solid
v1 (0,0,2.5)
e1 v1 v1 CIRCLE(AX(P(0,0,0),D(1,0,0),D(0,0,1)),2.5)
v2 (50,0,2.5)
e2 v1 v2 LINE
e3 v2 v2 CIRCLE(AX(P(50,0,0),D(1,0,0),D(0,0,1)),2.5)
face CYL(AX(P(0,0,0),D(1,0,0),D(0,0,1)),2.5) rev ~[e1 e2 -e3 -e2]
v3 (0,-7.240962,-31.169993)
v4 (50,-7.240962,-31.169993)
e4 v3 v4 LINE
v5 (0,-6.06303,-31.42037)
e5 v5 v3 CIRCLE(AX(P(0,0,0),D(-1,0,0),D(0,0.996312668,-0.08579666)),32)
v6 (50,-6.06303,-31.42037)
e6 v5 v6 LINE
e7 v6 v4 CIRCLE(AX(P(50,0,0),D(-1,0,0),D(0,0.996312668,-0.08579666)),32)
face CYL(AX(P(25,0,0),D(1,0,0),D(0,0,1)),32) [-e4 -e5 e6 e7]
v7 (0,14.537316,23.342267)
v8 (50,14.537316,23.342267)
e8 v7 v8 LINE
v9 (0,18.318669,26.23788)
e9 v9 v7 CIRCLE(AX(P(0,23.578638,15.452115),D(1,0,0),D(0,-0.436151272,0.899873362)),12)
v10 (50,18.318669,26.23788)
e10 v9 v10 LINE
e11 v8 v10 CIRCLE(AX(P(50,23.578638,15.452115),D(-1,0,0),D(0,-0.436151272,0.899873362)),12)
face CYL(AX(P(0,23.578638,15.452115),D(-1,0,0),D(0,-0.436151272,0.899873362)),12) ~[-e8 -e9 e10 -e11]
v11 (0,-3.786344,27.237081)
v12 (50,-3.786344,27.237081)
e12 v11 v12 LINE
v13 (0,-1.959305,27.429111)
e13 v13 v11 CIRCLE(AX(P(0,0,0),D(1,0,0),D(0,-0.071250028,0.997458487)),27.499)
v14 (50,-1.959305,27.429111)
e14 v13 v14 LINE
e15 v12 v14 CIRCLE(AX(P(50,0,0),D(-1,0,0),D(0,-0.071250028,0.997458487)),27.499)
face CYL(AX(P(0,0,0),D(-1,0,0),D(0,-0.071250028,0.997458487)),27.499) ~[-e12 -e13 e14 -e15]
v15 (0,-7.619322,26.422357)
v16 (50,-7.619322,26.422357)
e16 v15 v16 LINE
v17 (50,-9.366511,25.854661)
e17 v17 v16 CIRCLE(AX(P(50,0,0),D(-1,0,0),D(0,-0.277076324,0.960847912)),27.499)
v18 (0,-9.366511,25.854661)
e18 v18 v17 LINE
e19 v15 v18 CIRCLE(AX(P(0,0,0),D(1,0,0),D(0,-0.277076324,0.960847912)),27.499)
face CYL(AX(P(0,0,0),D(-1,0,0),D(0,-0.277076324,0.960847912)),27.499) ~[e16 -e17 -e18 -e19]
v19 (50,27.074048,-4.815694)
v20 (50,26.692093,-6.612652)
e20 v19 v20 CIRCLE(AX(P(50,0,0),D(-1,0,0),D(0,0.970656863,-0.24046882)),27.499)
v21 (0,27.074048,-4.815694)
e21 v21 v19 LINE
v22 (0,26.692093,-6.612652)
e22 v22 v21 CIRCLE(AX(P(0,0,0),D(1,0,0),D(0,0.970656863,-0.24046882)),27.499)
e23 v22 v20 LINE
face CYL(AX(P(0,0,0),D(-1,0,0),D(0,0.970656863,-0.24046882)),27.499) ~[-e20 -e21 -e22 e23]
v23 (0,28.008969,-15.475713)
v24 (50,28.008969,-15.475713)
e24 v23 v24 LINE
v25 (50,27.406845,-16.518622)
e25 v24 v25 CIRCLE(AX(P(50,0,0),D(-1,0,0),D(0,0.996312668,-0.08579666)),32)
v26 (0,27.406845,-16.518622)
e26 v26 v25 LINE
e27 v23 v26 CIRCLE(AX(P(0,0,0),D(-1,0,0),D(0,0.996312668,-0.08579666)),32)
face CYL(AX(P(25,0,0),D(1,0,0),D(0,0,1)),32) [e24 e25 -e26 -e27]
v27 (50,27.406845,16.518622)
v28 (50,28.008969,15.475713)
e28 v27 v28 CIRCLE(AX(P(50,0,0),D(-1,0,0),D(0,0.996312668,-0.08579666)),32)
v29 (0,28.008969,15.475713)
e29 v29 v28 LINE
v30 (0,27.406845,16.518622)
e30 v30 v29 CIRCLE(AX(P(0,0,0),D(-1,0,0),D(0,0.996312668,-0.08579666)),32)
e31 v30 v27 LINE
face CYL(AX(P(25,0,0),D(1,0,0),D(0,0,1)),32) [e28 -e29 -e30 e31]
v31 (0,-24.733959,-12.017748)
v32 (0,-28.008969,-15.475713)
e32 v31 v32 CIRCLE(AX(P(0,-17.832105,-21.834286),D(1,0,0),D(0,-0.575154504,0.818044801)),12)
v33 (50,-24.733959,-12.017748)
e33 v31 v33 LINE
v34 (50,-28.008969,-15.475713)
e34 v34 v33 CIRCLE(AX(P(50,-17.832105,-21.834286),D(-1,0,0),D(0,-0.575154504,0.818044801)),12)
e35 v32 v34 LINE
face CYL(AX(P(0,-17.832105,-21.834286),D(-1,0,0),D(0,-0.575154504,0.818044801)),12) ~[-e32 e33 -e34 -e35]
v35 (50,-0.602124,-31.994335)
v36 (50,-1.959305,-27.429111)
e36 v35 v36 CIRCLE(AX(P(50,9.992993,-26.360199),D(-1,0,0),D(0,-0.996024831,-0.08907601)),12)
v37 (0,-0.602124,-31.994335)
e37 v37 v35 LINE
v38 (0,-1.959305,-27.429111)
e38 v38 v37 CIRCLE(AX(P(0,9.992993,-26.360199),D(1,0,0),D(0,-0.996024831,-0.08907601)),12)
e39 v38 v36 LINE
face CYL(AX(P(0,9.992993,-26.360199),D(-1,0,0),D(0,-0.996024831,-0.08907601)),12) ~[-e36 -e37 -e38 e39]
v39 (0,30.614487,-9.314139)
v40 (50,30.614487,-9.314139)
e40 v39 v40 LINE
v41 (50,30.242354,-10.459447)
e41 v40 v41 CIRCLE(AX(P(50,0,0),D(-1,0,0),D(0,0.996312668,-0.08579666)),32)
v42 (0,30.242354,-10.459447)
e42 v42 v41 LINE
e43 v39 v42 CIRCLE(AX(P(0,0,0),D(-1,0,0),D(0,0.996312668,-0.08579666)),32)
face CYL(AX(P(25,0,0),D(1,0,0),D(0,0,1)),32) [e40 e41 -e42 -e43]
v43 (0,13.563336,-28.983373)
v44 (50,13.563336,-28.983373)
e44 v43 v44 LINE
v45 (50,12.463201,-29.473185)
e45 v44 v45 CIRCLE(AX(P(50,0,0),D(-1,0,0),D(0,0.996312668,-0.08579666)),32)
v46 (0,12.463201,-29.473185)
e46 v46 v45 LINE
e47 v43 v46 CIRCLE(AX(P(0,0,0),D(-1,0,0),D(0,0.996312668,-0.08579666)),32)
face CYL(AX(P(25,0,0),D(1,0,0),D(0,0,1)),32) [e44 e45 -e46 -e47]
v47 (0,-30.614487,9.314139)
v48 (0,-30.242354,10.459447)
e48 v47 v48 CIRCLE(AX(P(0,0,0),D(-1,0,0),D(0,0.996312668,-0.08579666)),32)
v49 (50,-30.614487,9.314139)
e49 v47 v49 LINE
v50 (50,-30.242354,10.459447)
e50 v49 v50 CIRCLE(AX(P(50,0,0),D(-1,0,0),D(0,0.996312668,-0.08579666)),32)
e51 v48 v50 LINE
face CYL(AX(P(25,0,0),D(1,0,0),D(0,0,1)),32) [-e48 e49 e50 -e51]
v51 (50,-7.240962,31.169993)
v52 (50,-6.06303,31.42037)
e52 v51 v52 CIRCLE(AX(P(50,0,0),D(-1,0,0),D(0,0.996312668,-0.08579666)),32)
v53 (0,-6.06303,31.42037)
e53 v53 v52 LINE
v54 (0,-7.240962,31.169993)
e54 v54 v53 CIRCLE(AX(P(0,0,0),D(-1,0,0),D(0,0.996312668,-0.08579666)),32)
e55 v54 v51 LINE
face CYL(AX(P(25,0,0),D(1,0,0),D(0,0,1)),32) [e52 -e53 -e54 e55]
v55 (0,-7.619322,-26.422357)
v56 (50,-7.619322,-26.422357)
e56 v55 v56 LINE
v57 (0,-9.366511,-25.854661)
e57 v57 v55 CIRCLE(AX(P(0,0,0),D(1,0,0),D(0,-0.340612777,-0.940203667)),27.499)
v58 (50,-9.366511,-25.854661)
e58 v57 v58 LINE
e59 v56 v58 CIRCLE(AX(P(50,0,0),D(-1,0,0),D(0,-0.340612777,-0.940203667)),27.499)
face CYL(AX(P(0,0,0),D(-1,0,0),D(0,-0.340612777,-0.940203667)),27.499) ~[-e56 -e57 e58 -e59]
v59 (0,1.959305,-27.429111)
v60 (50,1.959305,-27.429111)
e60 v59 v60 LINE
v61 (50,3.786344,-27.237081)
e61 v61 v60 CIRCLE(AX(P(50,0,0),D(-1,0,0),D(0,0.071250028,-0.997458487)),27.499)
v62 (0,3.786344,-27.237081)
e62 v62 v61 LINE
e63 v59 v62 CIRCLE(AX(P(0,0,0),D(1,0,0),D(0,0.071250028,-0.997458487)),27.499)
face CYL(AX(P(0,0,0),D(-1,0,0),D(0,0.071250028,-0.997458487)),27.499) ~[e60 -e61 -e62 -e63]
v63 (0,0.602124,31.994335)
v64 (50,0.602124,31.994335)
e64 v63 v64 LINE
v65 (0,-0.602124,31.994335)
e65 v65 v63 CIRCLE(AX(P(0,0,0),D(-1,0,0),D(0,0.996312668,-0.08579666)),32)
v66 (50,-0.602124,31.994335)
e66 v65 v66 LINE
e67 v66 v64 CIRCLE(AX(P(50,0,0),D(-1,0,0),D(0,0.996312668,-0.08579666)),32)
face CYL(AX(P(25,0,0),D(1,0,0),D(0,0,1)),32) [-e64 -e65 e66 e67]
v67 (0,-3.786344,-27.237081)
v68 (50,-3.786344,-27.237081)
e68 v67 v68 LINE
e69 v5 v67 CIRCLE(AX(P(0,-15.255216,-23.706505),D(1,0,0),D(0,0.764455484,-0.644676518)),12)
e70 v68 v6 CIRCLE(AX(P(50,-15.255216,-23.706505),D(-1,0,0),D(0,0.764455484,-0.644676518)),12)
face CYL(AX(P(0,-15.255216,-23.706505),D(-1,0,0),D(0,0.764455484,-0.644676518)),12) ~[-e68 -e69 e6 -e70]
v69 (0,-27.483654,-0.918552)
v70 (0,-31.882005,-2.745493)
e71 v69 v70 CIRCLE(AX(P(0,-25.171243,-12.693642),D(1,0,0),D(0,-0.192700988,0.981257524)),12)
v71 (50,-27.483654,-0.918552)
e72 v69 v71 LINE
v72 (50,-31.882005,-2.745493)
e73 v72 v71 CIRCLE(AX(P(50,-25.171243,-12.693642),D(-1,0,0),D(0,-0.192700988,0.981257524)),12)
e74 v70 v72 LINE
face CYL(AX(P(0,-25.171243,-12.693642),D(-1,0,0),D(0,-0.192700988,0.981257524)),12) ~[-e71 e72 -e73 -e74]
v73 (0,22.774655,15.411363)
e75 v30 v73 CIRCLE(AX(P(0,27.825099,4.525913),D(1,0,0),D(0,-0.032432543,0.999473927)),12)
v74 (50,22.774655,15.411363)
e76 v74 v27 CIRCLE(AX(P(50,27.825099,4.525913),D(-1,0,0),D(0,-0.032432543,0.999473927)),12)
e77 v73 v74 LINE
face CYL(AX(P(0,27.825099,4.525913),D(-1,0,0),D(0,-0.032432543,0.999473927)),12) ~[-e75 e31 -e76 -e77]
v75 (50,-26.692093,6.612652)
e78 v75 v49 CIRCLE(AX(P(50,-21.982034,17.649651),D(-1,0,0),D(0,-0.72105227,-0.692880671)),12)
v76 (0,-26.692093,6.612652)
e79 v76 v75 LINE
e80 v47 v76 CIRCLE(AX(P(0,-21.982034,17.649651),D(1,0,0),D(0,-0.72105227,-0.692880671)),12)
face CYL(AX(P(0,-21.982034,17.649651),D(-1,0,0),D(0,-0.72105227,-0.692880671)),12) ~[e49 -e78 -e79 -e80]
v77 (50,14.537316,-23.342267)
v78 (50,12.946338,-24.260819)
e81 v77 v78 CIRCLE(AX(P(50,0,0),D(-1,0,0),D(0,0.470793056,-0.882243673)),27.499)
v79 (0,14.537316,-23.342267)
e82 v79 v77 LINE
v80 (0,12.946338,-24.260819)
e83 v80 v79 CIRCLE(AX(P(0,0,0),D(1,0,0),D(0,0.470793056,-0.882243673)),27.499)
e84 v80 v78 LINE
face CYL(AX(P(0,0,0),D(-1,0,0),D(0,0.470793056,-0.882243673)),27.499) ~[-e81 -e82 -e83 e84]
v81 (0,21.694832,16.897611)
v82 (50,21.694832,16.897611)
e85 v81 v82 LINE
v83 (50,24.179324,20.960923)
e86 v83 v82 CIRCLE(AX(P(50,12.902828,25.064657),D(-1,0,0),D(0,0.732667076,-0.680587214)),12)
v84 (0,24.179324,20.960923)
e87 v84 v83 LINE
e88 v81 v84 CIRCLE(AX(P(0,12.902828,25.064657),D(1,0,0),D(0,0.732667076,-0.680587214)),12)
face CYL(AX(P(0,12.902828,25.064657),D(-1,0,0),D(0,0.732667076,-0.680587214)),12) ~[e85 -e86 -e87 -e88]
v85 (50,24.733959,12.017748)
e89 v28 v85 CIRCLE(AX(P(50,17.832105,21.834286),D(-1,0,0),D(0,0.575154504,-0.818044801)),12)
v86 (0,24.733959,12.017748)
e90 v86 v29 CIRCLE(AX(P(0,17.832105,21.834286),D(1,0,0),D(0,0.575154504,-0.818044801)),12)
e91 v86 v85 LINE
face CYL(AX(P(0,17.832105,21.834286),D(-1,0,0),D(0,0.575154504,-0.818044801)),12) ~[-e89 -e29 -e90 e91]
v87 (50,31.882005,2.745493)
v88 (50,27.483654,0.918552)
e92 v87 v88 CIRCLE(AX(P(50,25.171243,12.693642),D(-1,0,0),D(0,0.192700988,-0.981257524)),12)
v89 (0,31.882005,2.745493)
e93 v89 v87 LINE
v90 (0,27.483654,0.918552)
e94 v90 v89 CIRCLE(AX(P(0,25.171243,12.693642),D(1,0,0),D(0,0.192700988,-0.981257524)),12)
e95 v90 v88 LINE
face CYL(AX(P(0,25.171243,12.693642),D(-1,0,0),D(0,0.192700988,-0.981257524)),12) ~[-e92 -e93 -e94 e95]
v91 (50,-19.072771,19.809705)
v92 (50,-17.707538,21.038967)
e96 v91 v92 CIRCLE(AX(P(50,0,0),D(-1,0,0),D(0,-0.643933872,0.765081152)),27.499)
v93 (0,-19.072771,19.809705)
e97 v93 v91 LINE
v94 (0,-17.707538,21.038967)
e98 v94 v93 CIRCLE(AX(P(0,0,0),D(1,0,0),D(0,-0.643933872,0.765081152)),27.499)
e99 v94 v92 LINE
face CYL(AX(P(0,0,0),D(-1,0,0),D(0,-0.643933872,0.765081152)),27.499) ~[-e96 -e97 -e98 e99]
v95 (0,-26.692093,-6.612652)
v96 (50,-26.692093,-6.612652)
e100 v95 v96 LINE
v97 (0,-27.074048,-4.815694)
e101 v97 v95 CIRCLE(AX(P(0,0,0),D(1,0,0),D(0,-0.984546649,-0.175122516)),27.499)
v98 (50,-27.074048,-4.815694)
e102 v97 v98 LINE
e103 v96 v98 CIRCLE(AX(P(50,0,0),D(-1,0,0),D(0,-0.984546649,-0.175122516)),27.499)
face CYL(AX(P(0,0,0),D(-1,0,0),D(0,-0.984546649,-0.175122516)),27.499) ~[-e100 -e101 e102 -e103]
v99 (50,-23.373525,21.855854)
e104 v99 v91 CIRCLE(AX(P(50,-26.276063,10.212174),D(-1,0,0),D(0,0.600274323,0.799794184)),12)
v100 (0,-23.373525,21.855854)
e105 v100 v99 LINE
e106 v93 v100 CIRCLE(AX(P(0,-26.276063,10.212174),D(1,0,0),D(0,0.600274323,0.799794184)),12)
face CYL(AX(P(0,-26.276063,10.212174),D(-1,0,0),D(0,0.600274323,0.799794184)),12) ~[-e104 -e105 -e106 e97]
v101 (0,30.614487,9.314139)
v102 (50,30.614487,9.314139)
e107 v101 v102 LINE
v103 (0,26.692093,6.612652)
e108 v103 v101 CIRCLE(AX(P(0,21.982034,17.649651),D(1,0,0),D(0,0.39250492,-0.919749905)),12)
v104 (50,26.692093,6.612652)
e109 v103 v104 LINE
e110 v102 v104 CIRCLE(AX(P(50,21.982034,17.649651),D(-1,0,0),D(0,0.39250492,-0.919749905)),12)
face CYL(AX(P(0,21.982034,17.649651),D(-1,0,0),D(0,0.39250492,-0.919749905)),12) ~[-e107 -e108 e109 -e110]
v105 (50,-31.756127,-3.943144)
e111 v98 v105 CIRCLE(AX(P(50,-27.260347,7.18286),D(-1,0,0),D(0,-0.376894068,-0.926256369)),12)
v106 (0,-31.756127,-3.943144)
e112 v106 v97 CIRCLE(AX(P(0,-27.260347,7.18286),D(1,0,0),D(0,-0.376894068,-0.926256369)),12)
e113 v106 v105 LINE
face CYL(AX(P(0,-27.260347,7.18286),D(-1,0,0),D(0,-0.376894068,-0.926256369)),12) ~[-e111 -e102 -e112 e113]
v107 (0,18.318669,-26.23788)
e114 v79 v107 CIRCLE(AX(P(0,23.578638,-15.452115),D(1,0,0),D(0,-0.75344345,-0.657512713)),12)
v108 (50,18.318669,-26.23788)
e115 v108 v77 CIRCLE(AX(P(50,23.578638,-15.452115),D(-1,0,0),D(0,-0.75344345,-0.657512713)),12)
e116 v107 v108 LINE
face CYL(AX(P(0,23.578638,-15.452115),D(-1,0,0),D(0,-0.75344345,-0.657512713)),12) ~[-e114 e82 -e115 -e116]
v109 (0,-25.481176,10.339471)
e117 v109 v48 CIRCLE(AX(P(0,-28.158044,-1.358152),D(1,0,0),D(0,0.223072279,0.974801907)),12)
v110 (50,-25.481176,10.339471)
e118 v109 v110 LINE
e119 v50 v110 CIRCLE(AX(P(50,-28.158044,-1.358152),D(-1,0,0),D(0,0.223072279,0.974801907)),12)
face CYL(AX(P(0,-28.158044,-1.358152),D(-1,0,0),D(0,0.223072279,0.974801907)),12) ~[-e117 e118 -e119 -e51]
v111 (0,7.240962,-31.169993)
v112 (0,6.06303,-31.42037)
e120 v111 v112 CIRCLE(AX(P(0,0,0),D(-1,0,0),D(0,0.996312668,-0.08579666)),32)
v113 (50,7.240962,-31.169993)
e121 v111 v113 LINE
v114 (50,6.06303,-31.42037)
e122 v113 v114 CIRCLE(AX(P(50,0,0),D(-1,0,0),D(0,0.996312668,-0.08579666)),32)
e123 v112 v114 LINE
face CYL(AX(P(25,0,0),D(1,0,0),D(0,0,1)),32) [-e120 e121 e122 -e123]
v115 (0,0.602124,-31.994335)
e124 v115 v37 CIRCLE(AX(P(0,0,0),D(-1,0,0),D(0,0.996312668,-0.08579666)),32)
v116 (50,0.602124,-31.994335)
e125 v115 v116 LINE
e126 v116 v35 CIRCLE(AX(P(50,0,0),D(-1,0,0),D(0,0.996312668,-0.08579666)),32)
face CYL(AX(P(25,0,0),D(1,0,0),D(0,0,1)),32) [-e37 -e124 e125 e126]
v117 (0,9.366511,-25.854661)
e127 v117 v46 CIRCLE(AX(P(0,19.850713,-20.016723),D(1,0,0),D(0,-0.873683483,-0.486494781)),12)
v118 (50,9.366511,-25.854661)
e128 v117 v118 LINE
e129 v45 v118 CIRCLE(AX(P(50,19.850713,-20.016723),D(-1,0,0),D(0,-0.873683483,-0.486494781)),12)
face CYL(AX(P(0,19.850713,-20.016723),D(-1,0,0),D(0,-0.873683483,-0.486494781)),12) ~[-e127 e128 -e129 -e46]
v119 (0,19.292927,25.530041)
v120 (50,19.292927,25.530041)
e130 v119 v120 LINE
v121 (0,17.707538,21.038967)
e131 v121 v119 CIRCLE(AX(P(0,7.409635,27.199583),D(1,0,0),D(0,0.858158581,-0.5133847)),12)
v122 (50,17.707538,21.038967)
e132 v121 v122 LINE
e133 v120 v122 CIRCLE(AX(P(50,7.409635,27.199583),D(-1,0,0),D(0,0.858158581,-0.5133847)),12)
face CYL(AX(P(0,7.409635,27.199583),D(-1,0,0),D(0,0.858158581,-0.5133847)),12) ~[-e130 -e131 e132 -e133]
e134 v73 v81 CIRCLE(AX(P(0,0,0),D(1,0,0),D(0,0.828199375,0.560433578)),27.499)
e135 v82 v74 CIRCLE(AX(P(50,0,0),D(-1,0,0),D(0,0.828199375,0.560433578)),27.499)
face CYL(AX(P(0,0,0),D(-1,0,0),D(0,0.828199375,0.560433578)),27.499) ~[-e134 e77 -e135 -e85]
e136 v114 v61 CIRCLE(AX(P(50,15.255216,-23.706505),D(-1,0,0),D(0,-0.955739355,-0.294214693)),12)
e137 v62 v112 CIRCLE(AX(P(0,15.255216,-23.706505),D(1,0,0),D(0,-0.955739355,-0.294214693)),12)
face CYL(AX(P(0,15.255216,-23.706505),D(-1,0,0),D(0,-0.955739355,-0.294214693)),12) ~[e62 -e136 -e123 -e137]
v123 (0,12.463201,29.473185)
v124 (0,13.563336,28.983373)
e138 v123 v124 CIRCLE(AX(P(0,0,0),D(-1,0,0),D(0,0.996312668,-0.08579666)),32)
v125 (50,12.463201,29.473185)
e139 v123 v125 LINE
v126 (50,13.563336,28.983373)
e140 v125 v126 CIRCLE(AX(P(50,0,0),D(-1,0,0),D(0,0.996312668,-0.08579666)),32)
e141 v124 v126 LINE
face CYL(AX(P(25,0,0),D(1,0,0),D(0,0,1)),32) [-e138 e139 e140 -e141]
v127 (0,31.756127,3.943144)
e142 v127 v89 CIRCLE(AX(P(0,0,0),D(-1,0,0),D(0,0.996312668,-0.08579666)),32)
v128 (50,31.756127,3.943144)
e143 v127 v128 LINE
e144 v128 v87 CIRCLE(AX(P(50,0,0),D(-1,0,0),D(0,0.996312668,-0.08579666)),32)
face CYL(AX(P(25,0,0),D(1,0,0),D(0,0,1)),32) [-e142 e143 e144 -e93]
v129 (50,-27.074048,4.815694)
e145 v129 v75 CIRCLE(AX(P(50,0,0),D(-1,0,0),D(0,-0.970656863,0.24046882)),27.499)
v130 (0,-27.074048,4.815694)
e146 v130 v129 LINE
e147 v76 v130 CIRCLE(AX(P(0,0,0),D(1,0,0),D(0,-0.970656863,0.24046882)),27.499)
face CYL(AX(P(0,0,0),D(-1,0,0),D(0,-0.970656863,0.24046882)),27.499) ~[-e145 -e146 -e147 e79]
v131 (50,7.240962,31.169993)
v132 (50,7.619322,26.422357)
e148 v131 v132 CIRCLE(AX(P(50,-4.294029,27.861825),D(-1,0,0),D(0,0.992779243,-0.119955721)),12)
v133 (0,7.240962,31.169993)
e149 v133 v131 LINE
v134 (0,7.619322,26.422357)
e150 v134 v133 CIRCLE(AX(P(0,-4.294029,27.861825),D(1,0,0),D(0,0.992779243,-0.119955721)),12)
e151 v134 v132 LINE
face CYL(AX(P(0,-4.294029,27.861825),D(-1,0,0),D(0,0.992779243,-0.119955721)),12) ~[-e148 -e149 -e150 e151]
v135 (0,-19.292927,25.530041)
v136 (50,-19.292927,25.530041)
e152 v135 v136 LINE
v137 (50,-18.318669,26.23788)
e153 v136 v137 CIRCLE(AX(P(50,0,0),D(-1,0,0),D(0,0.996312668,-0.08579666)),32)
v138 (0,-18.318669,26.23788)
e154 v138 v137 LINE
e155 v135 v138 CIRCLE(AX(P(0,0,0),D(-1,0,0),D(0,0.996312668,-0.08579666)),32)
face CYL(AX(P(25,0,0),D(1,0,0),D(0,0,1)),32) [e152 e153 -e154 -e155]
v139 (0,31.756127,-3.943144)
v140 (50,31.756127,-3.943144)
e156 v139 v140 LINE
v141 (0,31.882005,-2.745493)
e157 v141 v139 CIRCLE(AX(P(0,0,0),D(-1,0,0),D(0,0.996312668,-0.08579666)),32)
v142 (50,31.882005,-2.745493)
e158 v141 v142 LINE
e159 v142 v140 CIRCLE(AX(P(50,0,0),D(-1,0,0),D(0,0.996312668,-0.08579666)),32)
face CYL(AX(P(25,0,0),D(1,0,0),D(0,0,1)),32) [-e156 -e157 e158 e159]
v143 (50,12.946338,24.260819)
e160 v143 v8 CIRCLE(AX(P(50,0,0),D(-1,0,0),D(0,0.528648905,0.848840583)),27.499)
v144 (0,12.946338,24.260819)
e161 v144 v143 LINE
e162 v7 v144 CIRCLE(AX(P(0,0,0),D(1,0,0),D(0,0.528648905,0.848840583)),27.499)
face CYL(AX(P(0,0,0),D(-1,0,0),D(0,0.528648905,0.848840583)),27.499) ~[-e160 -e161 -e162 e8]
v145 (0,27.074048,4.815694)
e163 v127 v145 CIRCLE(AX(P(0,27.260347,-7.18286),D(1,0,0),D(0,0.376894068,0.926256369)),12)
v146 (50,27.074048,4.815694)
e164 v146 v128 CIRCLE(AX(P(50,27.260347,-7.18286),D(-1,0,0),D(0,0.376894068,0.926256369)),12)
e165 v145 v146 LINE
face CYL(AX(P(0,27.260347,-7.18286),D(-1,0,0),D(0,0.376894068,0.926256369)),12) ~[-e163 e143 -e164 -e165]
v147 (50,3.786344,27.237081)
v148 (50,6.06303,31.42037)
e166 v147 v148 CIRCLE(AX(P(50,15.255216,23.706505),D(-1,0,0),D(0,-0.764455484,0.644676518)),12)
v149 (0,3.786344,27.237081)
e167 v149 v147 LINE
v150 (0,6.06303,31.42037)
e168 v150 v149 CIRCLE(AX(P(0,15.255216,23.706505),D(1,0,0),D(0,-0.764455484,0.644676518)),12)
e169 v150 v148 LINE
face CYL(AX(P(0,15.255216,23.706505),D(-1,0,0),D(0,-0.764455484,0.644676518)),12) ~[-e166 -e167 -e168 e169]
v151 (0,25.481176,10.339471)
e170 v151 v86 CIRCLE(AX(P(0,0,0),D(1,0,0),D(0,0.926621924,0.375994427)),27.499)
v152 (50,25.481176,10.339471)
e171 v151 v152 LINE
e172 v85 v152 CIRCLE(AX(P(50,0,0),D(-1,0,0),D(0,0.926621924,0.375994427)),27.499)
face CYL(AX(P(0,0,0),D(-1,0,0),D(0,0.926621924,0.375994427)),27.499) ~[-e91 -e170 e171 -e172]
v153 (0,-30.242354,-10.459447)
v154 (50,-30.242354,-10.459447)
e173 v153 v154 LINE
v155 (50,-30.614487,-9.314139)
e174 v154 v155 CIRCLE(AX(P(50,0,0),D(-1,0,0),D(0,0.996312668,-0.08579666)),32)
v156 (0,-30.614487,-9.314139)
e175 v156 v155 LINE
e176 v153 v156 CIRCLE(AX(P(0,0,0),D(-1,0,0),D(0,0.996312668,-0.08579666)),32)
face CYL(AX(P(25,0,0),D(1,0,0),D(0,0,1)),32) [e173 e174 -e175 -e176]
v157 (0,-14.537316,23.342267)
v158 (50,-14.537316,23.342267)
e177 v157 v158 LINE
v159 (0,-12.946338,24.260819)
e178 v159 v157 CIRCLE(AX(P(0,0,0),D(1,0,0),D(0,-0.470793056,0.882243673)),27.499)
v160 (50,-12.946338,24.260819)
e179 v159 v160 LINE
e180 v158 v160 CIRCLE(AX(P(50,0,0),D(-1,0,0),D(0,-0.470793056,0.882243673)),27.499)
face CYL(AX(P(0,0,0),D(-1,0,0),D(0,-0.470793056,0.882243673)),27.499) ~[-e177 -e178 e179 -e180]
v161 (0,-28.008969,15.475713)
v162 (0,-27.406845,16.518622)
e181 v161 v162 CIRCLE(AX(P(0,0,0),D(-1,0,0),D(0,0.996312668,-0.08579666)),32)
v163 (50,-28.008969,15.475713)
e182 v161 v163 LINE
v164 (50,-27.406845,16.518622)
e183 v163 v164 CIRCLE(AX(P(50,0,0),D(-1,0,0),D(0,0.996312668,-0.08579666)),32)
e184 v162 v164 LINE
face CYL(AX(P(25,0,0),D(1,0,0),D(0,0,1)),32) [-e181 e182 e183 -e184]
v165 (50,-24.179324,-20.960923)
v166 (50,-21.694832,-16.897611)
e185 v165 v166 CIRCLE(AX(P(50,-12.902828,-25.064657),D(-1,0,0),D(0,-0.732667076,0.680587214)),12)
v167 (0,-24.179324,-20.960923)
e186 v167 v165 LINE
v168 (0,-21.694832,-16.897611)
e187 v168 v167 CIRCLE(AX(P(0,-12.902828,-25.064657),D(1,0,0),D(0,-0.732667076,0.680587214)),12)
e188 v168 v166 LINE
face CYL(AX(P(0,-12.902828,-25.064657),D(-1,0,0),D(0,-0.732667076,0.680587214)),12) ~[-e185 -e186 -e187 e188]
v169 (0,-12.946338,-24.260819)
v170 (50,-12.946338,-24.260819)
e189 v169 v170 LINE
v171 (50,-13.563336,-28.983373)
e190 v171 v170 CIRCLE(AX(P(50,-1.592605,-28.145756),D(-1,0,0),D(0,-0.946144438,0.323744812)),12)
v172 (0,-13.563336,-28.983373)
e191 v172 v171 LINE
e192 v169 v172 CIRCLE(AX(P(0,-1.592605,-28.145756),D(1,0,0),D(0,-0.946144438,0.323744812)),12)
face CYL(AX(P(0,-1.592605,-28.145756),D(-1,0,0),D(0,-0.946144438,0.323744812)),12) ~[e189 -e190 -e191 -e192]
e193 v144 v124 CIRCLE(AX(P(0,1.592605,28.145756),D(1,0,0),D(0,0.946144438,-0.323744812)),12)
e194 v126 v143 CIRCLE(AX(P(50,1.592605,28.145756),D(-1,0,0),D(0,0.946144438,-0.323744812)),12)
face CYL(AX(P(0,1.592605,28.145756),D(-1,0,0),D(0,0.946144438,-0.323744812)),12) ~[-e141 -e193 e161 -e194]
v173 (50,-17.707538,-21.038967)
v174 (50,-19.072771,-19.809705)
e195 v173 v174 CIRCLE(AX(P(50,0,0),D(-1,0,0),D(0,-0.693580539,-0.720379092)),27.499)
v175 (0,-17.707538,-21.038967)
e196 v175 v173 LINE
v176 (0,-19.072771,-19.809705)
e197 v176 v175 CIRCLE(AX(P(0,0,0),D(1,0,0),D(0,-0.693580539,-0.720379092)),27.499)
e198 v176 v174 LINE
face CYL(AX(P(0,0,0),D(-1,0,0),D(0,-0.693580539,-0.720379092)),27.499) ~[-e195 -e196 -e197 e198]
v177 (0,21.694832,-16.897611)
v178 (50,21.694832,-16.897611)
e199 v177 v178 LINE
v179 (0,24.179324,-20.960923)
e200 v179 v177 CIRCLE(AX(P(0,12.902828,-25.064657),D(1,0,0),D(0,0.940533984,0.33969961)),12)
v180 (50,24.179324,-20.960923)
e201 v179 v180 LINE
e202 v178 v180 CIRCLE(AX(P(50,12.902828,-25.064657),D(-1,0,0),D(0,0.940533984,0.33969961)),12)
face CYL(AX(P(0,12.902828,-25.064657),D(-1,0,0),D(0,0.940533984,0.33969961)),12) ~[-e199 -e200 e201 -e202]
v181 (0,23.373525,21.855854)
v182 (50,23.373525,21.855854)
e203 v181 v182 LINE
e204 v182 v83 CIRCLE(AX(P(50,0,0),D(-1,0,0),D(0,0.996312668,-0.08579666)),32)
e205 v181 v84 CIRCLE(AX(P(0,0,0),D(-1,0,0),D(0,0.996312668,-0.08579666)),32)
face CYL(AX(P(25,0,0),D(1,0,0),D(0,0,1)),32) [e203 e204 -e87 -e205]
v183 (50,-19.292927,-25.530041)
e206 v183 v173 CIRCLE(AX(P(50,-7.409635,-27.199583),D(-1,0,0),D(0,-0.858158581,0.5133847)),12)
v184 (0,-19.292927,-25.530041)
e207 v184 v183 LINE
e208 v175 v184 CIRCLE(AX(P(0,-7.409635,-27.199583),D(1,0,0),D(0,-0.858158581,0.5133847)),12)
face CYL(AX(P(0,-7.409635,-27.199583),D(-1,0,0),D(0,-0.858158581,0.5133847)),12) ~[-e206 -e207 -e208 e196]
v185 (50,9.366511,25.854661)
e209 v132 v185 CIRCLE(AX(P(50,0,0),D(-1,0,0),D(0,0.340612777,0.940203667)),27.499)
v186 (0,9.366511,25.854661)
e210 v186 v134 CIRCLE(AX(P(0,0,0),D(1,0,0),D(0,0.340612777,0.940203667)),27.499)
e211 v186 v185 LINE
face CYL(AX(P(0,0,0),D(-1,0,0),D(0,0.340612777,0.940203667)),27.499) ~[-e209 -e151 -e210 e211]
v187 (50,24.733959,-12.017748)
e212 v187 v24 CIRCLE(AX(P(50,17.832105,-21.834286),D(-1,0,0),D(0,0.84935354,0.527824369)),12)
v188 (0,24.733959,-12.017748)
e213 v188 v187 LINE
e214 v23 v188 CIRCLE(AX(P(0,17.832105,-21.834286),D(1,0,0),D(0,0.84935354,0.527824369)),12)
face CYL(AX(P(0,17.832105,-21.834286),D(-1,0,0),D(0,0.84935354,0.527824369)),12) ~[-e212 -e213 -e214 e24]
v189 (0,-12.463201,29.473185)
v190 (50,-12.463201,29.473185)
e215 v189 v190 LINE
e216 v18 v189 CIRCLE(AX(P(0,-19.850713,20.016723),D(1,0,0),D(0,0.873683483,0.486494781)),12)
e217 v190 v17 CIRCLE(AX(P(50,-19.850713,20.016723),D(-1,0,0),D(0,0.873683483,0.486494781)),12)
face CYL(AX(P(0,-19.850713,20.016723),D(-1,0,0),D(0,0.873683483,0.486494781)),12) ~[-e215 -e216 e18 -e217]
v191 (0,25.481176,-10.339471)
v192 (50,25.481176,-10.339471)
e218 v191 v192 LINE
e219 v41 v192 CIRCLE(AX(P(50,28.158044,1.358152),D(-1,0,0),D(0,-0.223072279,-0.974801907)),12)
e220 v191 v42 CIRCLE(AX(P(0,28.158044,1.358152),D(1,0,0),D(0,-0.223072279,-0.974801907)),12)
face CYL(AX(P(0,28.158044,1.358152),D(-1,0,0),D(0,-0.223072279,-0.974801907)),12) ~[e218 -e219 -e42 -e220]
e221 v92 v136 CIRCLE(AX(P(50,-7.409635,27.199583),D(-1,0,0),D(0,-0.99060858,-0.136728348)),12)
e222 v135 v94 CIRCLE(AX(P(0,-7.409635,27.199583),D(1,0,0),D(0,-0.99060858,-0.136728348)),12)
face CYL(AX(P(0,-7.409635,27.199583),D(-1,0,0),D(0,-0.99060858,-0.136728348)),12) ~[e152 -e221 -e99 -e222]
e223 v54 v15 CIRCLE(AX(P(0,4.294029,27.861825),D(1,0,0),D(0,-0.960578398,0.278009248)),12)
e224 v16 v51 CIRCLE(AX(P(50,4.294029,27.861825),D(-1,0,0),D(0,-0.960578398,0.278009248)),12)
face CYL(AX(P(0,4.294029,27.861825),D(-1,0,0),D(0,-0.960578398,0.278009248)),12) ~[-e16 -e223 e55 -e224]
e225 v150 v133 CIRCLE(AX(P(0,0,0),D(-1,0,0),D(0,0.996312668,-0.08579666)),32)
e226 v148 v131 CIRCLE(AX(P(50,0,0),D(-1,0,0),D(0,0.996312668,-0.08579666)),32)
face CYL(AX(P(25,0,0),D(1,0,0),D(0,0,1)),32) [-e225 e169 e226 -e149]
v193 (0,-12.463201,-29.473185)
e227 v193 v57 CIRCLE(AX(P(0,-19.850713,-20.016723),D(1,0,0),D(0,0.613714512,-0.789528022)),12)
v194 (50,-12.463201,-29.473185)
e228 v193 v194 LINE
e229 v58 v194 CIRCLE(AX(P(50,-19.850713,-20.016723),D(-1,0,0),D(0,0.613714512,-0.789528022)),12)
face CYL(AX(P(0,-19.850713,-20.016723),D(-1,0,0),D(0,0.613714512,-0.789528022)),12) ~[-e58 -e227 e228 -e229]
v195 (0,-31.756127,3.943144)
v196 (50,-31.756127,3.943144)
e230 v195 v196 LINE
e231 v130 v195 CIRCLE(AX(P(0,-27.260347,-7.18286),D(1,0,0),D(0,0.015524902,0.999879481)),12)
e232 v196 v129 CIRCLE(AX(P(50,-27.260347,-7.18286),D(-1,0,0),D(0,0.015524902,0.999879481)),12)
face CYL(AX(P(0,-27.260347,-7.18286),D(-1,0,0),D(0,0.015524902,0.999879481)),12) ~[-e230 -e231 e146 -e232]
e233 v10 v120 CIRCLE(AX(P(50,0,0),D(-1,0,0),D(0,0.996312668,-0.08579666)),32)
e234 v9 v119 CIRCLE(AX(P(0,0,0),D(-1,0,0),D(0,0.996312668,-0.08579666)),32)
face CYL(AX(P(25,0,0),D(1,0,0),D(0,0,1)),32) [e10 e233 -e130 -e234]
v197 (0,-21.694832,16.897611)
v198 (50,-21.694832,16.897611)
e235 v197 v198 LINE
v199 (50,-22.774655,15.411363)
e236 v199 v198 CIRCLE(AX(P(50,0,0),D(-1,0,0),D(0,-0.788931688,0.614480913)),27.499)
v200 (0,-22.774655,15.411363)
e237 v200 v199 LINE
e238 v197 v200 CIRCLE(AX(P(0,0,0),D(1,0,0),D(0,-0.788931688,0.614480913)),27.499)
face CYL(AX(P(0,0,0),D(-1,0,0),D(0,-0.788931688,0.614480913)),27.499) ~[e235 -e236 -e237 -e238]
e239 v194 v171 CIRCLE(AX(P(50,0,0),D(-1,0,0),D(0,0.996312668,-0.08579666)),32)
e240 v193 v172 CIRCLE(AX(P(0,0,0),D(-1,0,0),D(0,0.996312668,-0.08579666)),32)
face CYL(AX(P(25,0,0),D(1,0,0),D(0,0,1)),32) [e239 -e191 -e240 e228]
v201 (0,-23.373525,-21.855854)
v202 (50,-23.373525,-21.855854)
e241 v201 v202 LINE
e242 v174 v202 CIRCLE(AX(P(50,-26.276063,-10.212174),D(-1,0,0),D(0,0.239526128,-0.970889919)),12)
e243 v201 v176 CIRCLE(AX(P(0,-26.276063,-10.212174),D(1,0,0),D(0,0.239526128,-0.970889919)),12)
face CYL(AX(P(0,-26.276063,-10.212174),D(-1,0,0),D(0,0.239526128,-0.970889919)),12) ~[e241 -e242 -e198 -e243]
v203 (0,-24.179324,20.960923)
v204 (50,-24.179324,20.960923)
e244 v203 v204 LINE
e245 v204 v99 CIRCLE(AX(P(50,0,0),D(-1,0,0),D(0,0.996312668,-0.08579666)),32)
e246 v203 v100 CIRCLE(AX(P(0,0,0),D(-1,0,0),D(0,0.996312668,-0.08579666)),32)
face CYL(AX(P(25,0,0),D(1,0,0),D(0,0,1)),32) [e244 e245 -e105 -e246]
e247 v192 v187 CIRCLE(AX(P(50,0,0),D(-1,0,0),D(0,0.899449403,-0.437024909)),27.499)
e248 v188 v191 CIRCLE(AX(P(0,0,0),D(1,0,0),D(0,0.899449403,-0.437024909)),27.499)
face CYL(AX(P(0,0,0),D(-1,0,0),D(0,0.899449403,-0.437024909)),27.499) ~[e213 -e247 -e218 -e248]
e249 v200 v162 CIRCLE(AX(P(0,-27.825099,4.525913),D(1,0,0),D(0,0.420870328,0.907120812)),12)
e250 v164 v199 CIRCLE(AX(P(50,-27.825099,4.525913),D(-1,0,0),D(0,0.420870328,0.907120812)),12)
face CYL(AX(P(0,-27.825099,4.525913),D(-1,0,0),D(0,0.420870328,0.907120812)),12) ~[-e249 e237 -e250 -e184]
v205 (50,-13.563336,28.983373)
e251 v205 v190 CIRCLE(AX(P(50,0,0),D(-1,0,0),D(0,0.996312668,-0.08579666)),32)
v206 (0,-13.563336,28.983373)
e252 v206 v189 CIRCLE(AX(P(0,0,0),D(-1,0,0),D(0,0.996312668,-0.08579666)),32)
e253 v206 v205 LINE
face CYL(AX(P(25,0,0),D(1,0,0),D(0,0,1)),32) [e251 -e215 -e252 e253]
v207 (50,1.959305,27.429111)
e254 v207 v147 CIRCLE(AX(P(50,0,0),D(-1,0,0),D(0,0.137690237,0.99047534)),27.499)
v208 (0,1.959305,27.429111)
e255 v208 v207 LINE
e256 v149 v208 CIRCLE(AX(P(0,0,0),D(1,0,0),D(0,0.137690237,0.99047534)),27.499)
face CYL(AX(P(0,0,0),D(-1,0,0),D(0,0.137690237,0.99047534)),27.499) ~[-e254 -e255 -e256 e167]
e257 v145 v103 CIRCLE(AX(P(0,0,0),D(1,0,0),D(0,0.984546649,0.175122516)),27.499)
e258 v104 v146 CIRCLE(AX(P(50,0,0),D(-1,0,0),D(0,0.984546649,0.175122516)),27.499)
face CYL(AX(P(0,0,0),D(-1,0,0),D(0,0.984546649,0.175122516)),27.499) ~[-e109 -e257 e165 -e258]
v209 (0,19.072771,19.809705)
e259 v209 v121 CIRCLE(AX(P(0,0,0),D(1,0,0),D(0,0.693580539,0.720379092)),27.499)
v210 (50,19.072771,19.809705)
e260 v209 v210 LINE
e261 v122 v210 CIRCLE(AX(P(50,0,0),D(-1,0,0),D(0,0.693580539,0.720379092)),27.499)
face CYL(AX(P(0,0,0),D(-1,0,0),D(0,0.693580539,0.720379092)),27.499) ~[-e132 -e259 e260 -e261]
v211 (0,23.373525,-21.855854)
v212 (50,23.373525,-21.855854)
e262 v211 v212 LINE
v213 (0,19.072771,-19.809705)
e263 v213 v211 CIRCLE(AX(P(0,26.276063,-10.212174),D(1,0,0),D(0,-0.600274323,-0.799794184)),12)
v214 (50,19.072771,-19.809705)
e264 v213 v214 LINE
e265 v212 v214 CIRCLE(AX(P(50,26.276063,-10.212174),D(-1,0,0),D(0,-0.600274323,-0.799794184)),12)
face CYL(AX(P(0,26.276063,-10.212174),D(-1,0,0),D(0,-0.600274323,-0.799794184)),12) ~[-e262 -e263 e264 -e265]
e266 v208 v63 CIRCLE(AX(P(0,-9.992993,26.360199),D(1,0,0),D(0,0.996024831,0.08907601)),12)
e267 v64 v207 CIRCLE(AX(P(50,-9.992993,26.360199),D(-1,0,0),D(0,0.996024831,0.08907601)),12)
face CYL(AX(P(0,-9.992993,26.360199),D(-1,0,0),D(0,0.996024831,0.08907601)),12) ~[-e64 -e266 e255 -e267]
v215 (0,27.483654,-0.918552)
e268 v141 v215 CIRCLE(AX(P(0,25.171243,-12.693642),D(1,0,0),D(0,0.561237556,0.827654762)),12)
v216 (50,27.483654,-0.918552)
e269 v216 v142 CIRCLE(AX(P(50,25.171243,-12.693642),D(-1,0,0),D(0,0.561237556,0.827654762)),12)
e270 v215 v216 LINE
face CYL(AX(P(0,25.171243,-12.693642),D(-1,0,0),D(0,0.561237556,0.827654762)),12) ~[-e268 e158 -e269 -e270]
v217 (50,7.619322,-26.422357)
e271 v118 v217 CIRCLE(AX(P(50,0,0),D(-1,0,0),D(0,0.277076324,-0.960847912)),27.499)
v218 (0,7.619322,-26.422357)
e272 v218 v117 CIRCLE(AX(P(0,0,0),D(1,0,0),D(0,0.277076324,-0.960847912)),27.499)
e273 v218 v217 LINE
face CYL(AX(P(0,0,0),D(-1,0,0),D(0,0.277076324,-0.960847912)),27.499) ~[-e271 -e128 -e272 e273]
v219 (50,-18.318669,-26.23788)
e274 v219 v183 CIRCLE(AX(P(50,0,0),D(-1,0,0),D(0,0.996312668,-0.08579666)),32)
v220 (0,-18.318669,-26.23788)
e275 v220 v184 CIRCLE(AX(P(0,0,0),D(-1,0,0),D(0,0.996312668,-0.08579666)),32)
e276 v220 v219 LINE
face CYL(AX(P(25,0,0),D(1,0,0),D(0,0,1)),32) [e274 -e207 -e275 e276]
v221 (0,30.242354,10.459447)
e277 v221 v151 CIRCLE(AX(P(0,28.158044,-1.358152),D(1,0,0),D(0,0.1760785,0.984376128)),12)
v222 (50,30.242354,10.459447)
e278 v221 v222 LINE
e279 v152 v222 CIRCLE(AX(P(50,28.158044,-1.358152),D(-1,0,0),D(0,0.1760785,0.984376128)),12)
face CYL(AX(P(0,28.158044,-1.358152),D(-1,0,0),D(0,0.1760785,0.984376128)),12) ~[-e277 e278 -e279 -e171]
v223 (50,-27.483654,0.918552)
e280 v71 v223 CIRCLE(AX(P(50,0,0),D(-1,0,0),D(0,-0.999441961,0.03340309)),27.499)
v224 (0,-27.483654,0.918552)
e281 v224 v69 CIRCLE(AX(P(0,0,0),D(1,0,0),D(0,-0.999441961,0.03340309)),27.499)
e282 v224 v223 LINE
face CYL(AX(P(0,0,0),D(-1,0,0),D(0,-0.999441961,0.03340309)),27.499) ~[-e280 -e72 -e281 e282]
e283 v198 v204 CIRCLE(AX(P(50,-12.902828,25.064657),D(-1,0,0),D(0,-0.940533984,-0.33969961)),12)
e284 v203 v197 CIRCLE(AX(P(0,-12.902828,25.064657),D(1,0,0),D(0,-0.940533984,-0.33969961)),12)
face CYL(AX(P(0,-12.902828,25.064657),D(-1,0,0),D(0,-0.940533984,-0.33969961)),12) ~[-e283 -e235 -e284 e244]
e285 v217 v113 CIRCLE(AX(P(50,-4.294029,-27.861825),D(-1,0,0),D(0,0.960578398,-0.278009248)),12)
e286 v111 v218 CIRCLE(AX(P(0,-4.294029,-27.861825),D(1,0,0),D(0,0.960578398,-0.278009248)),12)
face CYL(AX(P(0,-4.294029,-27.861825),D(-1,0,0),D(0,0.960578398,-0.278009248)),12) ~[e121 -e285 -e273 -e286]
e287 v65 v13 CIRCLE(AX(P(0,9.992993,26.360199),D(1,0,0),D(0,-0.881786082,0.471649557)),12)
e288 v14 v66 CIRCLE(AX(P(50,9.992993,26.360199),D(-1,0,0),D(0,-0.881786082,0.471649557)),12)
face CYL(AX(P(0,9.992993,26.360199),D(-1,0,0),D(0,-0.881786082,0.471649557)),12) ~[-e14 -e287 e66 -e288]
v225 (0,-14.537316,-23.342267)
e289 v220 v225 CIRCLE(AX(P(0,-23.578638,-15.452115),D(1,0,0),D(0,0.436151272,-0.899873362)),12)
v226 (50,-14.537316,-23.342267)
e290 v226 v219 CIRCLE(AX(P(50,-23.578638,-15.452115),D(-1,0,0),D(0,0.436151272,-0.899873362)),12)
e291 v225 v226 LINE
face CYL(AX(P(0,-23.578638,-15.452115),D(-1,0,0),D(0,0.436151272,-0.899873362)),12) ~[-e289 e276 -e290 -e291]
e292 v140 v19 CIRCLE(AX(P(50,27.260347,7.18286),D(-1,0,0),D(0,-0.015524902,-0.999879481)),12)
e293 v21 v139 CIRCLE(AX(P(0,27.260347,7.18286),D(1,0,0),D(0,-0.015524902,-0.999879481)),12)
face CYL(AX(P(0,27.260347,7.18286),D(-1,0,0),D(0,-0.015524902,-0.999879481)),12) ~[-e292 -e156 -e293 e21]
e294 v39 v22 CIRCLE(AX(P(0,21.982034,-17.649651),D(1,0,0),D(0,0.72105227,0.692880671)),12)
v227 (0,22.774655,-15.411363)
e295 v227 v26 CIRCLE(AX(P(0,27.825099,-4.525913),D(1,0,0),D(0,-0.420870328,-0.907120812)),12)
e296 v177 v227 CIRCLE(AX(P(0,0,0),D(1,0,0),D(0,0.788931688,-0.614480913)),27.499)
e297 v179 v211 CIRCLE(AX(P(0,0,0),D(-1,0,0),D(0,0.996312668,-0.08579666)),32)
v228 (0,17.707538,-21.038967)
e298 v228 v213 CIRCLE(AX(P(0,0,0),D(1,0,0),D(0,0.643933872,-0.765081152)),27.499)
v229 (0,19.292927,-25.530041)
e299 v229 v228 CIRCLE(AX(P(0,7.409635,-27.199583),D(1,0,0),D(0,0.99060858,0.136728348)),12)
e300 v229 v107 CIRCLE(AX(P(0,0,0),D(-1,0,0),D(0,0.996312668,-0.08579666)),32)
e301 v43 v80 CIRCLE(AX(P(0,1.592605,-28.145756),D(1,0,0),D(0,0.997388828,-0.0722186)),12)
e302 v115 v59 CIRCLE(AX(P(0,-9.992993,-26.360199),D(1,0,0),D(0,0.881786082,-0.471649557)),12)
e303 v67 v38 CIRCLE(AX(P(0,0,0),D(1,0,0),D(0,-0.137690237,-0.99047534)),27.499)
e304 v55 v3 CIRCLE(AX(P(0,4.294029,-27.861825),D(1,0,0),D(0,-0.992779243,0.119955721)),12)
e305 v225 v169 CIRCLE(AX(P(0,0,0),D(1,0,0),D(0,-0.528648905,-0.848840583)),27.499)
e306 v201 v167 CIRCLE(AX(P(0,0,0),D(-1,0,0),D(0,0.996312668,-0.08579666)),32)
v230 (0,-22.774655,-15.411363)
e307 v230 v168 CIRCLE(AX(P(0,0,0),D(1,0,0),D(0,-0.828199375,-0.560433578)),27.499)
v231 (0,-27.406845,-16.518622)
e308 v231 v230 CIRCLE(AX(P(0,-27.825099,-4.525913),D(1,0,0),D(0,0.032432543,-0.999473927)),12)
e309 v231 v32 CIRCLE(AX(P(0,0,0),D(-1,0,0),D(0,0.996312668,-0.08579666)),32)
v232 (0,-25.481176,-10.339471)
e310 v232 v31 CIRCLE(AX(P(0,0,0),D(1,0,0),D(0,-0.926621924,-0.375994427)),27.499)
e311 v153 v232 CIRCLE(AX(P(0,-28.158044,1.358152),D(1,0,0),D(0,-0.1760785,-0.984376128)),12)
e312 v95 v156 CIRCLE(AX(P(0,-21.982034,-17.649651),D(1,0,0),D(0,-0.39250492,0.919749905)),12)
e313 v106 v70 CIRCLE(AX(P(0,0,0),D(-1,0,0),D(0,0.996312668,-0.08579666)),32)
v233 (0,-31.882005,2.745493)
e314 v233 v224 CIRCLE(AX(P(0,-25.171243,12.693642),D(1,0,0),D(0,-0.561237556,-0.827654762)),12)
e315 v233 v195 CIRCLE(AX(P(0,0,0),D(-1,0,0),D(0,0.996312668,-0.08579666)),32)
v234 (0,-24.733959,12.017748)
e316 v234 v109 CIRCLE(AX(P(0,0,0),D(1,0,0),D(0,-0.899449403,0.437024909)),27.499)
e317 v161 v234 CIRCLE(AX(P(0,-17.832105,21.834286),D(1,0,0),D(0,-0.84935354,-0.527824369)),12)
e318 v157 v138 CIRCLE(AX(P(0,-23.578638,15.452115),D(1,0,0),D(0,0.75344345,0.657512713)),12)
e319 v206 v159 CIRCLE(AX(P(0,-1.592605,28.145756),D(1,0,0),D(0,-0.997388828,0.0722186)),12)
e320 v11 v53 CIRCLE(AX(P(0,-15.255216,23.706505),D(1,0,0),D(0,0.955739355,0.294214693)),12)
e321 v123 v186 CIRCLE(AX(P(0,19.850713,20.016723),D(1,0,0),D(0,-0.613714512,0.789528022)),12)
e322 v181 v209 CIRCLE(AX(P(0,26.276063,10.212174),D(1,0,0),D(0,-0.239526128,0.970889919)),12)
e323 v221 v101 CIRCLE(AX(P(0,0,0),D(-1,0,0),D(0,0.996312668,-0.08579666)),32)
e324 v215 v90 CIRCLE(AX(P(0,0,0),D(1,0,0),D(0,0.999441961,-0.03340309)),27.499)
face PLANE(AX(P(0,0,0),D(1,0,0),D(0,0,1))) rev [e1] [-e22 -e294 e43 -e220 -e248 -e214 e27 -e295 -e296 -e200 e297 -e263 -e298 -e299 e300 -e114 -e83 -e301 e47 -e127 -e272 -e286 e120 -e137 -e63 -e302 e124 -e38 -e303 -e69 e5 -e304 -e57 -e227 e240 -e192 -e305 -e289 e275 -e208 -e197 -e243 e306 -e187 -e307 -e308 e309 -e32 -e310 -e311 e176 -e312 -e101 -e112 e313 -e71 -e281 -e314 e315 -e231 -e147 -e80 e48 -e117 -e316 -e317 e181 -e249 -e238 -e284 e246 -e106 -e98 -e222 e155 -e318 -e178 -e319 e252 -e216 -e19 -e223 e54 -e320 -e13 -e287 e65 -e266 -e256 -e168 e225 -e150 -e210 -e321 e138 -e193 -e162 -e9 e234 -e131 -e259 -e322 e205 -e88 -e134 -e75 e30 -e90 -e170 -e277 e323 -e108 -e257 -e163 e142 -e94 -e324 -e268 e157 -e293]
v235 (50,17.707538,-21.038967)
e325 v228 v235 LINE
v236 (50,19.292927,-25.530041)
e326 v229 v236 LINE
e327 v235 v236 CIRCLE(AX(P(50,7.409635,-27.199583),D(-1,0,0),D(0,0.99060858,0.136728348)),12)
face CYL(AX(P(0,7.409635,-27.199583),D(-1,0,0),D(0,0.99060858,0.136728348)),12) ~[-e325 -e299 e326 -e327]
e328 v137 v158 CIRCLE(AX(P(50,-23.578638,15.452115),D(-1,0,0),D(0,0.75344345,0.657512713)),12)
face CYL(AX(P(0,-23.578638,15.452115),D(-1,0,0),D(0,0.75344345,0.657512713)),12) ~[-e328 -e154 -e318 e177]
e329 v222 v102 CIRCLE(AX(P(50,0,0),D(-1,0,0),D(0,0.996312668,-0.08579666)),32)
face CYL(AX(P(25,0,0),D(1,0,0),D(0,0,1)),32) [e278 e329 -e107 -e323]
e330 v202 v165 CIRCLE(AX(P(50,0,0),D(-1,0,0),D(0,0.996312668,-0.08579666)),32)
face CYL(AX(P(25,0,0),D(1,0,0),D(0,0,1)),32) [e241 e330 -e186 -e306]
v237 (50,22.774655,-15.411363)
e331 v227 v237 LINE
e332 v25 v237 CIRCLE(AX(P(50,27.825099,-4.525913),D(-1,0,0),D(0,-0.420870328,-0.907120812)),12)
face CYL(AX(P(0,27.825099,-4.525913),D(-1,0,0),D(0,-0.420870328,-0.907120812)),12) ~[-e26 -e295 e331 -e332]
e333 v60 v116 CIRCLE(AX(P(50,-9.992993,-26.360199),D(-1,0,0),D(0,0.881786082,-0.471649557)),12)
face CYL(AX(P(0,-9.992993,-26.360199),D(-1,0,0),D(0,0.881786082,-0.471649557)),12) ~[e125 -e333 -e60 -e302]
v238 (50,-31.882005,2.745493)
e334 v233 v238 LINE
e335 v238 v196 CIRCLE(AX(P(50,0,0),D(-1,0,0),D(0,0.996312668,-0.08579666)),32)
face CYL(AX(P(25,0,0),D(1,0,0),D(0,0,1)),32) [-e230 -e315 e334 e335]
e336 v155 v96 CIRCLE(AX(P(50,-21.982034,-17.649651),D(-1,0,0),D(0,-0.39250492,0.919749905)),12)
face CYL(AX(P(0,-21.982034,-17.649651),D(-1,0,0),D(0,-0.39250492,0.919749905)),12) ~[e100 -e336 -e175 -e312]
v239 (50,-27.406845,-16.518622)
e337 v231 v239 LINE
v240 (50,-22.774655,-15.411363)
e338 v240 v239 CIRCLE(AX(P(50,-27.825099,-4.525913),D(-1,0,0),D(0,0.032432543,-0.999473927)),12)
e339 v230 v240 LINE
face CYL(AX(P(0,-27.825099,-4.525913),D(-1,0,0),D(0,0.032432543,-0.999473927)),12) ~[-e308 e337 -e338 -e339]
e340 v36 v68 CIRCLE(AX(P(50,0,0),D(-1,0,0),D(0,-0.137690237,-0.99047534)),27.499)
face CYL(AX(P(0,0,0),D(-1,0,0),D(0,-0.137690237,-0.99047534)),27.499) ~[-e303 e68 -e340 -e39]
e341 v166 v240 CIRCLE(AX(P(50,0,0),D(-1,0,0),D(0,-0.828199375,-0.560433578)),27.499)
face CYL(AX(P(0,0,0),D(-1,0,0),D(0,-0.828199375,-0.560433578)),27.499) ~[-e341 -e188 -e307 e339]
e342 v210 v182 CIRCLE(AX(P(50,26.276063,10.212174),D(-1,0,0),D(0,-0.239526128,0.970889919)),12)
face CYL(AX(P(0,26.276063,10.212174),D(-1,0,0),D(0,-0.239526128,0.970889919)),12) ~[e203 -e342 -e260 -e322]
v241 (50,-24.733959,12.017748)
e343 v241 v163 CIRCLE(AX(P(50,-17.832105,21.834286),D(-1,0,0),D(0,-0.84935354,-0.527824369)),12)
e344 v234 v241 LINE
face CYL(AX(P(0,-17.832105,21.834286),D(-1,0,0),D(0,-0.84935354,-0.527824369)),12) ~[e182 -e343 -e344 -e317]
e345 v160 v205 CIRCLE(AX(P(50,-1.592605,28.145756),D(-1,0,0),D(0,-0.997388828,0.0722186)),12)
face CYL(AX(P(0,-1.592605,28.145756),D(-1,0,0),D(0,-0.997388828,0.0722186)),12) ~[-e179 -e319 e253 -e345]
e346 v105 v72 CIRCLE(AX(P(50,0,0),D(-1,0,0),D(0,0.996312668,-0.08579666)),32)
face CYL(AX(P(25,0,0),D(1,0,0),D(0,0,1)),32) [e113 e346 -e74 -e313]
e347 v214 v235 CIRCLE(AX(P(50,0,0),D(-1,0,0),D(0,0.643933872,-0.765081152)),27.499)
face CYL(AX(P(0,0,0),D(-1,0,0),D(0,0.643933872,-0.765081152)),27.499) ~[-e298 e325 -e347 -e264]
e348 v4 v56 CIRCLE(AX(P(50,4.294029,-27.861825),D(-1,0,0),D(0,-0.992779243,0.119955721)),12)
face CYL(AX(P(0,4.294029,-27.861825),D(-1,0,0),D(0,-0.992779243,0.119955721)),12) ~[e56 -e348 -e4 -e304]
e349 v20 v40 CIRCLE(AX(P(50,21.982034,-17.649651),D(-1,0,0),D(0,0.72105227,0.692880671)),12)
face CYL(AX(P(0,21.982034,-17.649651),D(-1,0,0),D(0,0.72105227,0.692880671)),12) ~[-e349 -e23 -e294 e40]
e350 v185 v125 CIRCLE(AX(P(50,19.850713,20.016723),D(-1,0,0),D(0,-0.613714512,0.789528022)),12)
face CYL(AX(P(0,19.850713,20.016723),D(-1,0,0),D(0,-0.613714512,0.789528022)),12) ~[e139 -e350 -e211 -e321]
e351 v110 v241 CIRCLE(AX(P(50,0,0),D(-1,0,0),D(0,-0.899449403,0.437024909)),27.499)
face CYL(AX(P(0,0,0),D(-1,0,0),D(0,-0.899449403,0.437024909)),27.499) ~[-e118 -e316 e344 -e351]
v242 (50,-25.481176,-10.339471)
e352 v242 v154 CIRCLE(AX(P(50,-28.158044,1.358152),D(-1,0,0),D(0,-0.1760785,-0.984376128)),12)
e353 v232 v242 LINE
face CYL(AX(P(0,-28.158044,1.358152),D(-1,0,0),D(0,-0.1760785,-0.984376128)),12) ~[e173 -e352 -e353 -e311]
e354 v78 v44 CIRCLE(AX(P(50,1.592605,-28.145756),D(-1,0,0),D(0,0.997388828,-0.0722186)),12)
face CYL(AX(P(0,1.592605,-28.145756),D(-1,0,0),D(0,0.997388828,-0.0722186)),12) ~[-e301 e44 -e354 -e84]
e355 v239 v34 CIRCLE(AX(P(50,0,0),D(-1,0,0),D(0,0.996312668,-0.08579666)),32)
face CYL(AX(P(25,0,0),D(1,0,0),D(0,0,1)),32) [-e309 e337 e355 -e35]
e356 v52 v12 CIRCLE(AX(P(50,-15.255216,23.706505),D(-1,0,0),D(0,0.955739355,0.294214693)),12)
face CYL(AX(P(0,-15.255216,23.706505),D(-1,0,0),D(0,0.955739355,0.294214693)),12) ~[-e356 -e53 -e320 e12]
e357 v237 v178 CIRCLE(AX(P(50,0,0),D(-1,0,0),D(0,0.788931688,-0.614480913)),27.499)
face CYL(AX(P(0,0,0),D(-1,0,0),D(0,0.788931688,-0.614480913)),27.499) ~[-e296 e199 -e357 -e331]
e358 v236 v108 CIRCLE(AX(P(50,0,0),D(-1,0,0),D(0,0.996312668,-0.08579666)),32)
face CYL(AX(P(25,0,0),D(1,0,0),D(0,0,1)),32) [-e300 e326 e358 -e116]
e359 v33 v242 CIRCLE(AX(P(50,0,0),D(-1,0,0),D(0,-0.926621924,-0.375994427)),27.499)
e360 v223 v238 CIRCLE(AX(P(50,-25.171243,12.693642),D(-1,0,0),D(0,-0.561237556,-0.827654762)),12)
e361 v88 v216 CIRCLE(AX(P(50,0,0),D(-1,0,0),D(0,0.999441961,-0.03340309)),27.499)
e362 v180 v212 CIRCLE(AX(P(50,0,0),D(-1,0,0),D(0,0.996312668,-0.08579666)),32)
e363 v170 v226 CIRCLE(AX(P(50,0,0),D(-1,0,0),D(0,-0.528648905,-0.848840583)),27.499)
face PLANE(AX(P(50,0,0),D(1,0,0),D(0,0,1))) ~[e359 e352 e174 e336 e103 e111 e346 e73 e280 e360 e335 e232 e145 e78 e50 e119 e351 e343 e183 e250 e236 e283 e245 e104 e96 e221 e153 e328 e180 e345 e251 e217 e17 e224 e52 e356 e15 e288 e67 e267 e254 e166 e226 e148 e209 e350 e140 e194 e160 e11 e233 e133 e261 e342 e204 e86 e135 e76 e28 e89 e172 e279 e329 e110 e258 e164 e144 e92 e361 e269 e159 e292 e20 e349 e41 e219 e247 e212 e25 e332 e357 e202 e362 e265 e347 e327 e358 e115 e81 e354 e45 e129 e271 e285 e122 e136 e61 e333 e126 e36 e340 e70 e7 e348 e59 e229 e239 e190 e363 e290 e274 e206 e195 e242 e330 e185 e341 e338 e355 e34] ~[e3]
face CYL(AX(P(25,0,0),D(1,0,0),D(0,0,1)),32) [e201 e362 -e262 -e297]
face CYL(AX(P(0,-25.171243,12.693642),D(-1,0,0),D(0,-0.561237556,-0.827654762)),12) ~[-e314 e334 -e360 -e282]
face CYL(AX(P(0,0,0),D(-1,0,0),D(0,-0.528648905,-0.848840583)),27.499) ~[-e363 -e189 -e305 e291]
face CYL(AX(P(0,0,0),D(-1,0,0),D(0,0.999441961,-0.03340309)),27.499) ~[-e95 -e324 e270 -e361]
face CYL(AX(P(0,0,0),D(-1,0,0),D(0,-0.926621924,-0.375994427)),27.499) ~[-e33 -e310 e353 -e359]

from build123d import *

# Parameters (mm, degrees)
BASPROSKE_W     = 50
BASPROSKE_H     = 32
TOOTHCUT_DEPTH  = 68.4388612
TEETHCUTS_COUNT = 30
BORSKE_R        = 2.5
BORE_DEPTH      = 50.0000508


with BuildPart() as part:
    # BasProSke → Base-Revolve (revolve)
    with BuildSketch(Plane(origin=(0, 0, 0), x_dir=(1, 0, 0), z_dir=(0, 1, 0)), mode=Mode.PRIVATE) as base_revolve_sk:
        with Locations((25, 16)):
            Rectangle(BASPROSKE_W, BASPROSKE_H)
    revolve(base_revolve_sk.sketch.rotate(Axis((-10, 0, 0), (1, 0, 0)), 180), axis=Axis((-10, 0, 0), (1, 0, 0)))

    # TooCutSke → ToothCut (cut, through all)
    with BuildSketch(Plane(origin=(0, 0, 0), x_dir=(0, 0, -1), z_dir=(1, 0, 0))):
        with BuildLine():
            ThreePointArc((0.918551563, 27.483654488), (0, 27.499), (-0.918551563, 27.483654488))
            ThreePointArc((-0.918551563, 27.483654488), (-1.617208176, 29.787801627), (-2.761784709, 31.906093311))
            ThreePointArc((-2.761784709, 31.906093311), (0, 32.0254), (2.761784709, 31.906093311))
            ThreePointArc((2.761784709, 31.906093311), (1.617208176, 29.787801627), (0.918551563, 27.483654488))
        make_face()
    toothcut = extrude(amount=TOOTHCUT_DEPTH, mode=Mode.SUBTRACT)

    # TeethCuts: ToothCut ×30 about axis
    teethcuts_axis = Axis((0, 0, 0), (1, 0, 0))
    for i in range(1, TEETHCUTS_COUNT):
        add(toothcut.rotate(teethcuts_axis, i * 360 / TEETHCUTS_COUNT), mode=Mode.SUBTRACT)

    # BorSke → Bore (cut, symmetric)
    with BuildSketch(Plane(origin=(0, 0, 0), x_dir=(0, 0, -1), z_dir=(1, 0, 0))):
        with Locations(Location((0, 0, 0), (0, 0, 180))):
            Circle(BORSKE_R)
    extrude(amount=BORE_DEPTH, both=True, mode=Mode.SUBTRACT)


solid = part.part
